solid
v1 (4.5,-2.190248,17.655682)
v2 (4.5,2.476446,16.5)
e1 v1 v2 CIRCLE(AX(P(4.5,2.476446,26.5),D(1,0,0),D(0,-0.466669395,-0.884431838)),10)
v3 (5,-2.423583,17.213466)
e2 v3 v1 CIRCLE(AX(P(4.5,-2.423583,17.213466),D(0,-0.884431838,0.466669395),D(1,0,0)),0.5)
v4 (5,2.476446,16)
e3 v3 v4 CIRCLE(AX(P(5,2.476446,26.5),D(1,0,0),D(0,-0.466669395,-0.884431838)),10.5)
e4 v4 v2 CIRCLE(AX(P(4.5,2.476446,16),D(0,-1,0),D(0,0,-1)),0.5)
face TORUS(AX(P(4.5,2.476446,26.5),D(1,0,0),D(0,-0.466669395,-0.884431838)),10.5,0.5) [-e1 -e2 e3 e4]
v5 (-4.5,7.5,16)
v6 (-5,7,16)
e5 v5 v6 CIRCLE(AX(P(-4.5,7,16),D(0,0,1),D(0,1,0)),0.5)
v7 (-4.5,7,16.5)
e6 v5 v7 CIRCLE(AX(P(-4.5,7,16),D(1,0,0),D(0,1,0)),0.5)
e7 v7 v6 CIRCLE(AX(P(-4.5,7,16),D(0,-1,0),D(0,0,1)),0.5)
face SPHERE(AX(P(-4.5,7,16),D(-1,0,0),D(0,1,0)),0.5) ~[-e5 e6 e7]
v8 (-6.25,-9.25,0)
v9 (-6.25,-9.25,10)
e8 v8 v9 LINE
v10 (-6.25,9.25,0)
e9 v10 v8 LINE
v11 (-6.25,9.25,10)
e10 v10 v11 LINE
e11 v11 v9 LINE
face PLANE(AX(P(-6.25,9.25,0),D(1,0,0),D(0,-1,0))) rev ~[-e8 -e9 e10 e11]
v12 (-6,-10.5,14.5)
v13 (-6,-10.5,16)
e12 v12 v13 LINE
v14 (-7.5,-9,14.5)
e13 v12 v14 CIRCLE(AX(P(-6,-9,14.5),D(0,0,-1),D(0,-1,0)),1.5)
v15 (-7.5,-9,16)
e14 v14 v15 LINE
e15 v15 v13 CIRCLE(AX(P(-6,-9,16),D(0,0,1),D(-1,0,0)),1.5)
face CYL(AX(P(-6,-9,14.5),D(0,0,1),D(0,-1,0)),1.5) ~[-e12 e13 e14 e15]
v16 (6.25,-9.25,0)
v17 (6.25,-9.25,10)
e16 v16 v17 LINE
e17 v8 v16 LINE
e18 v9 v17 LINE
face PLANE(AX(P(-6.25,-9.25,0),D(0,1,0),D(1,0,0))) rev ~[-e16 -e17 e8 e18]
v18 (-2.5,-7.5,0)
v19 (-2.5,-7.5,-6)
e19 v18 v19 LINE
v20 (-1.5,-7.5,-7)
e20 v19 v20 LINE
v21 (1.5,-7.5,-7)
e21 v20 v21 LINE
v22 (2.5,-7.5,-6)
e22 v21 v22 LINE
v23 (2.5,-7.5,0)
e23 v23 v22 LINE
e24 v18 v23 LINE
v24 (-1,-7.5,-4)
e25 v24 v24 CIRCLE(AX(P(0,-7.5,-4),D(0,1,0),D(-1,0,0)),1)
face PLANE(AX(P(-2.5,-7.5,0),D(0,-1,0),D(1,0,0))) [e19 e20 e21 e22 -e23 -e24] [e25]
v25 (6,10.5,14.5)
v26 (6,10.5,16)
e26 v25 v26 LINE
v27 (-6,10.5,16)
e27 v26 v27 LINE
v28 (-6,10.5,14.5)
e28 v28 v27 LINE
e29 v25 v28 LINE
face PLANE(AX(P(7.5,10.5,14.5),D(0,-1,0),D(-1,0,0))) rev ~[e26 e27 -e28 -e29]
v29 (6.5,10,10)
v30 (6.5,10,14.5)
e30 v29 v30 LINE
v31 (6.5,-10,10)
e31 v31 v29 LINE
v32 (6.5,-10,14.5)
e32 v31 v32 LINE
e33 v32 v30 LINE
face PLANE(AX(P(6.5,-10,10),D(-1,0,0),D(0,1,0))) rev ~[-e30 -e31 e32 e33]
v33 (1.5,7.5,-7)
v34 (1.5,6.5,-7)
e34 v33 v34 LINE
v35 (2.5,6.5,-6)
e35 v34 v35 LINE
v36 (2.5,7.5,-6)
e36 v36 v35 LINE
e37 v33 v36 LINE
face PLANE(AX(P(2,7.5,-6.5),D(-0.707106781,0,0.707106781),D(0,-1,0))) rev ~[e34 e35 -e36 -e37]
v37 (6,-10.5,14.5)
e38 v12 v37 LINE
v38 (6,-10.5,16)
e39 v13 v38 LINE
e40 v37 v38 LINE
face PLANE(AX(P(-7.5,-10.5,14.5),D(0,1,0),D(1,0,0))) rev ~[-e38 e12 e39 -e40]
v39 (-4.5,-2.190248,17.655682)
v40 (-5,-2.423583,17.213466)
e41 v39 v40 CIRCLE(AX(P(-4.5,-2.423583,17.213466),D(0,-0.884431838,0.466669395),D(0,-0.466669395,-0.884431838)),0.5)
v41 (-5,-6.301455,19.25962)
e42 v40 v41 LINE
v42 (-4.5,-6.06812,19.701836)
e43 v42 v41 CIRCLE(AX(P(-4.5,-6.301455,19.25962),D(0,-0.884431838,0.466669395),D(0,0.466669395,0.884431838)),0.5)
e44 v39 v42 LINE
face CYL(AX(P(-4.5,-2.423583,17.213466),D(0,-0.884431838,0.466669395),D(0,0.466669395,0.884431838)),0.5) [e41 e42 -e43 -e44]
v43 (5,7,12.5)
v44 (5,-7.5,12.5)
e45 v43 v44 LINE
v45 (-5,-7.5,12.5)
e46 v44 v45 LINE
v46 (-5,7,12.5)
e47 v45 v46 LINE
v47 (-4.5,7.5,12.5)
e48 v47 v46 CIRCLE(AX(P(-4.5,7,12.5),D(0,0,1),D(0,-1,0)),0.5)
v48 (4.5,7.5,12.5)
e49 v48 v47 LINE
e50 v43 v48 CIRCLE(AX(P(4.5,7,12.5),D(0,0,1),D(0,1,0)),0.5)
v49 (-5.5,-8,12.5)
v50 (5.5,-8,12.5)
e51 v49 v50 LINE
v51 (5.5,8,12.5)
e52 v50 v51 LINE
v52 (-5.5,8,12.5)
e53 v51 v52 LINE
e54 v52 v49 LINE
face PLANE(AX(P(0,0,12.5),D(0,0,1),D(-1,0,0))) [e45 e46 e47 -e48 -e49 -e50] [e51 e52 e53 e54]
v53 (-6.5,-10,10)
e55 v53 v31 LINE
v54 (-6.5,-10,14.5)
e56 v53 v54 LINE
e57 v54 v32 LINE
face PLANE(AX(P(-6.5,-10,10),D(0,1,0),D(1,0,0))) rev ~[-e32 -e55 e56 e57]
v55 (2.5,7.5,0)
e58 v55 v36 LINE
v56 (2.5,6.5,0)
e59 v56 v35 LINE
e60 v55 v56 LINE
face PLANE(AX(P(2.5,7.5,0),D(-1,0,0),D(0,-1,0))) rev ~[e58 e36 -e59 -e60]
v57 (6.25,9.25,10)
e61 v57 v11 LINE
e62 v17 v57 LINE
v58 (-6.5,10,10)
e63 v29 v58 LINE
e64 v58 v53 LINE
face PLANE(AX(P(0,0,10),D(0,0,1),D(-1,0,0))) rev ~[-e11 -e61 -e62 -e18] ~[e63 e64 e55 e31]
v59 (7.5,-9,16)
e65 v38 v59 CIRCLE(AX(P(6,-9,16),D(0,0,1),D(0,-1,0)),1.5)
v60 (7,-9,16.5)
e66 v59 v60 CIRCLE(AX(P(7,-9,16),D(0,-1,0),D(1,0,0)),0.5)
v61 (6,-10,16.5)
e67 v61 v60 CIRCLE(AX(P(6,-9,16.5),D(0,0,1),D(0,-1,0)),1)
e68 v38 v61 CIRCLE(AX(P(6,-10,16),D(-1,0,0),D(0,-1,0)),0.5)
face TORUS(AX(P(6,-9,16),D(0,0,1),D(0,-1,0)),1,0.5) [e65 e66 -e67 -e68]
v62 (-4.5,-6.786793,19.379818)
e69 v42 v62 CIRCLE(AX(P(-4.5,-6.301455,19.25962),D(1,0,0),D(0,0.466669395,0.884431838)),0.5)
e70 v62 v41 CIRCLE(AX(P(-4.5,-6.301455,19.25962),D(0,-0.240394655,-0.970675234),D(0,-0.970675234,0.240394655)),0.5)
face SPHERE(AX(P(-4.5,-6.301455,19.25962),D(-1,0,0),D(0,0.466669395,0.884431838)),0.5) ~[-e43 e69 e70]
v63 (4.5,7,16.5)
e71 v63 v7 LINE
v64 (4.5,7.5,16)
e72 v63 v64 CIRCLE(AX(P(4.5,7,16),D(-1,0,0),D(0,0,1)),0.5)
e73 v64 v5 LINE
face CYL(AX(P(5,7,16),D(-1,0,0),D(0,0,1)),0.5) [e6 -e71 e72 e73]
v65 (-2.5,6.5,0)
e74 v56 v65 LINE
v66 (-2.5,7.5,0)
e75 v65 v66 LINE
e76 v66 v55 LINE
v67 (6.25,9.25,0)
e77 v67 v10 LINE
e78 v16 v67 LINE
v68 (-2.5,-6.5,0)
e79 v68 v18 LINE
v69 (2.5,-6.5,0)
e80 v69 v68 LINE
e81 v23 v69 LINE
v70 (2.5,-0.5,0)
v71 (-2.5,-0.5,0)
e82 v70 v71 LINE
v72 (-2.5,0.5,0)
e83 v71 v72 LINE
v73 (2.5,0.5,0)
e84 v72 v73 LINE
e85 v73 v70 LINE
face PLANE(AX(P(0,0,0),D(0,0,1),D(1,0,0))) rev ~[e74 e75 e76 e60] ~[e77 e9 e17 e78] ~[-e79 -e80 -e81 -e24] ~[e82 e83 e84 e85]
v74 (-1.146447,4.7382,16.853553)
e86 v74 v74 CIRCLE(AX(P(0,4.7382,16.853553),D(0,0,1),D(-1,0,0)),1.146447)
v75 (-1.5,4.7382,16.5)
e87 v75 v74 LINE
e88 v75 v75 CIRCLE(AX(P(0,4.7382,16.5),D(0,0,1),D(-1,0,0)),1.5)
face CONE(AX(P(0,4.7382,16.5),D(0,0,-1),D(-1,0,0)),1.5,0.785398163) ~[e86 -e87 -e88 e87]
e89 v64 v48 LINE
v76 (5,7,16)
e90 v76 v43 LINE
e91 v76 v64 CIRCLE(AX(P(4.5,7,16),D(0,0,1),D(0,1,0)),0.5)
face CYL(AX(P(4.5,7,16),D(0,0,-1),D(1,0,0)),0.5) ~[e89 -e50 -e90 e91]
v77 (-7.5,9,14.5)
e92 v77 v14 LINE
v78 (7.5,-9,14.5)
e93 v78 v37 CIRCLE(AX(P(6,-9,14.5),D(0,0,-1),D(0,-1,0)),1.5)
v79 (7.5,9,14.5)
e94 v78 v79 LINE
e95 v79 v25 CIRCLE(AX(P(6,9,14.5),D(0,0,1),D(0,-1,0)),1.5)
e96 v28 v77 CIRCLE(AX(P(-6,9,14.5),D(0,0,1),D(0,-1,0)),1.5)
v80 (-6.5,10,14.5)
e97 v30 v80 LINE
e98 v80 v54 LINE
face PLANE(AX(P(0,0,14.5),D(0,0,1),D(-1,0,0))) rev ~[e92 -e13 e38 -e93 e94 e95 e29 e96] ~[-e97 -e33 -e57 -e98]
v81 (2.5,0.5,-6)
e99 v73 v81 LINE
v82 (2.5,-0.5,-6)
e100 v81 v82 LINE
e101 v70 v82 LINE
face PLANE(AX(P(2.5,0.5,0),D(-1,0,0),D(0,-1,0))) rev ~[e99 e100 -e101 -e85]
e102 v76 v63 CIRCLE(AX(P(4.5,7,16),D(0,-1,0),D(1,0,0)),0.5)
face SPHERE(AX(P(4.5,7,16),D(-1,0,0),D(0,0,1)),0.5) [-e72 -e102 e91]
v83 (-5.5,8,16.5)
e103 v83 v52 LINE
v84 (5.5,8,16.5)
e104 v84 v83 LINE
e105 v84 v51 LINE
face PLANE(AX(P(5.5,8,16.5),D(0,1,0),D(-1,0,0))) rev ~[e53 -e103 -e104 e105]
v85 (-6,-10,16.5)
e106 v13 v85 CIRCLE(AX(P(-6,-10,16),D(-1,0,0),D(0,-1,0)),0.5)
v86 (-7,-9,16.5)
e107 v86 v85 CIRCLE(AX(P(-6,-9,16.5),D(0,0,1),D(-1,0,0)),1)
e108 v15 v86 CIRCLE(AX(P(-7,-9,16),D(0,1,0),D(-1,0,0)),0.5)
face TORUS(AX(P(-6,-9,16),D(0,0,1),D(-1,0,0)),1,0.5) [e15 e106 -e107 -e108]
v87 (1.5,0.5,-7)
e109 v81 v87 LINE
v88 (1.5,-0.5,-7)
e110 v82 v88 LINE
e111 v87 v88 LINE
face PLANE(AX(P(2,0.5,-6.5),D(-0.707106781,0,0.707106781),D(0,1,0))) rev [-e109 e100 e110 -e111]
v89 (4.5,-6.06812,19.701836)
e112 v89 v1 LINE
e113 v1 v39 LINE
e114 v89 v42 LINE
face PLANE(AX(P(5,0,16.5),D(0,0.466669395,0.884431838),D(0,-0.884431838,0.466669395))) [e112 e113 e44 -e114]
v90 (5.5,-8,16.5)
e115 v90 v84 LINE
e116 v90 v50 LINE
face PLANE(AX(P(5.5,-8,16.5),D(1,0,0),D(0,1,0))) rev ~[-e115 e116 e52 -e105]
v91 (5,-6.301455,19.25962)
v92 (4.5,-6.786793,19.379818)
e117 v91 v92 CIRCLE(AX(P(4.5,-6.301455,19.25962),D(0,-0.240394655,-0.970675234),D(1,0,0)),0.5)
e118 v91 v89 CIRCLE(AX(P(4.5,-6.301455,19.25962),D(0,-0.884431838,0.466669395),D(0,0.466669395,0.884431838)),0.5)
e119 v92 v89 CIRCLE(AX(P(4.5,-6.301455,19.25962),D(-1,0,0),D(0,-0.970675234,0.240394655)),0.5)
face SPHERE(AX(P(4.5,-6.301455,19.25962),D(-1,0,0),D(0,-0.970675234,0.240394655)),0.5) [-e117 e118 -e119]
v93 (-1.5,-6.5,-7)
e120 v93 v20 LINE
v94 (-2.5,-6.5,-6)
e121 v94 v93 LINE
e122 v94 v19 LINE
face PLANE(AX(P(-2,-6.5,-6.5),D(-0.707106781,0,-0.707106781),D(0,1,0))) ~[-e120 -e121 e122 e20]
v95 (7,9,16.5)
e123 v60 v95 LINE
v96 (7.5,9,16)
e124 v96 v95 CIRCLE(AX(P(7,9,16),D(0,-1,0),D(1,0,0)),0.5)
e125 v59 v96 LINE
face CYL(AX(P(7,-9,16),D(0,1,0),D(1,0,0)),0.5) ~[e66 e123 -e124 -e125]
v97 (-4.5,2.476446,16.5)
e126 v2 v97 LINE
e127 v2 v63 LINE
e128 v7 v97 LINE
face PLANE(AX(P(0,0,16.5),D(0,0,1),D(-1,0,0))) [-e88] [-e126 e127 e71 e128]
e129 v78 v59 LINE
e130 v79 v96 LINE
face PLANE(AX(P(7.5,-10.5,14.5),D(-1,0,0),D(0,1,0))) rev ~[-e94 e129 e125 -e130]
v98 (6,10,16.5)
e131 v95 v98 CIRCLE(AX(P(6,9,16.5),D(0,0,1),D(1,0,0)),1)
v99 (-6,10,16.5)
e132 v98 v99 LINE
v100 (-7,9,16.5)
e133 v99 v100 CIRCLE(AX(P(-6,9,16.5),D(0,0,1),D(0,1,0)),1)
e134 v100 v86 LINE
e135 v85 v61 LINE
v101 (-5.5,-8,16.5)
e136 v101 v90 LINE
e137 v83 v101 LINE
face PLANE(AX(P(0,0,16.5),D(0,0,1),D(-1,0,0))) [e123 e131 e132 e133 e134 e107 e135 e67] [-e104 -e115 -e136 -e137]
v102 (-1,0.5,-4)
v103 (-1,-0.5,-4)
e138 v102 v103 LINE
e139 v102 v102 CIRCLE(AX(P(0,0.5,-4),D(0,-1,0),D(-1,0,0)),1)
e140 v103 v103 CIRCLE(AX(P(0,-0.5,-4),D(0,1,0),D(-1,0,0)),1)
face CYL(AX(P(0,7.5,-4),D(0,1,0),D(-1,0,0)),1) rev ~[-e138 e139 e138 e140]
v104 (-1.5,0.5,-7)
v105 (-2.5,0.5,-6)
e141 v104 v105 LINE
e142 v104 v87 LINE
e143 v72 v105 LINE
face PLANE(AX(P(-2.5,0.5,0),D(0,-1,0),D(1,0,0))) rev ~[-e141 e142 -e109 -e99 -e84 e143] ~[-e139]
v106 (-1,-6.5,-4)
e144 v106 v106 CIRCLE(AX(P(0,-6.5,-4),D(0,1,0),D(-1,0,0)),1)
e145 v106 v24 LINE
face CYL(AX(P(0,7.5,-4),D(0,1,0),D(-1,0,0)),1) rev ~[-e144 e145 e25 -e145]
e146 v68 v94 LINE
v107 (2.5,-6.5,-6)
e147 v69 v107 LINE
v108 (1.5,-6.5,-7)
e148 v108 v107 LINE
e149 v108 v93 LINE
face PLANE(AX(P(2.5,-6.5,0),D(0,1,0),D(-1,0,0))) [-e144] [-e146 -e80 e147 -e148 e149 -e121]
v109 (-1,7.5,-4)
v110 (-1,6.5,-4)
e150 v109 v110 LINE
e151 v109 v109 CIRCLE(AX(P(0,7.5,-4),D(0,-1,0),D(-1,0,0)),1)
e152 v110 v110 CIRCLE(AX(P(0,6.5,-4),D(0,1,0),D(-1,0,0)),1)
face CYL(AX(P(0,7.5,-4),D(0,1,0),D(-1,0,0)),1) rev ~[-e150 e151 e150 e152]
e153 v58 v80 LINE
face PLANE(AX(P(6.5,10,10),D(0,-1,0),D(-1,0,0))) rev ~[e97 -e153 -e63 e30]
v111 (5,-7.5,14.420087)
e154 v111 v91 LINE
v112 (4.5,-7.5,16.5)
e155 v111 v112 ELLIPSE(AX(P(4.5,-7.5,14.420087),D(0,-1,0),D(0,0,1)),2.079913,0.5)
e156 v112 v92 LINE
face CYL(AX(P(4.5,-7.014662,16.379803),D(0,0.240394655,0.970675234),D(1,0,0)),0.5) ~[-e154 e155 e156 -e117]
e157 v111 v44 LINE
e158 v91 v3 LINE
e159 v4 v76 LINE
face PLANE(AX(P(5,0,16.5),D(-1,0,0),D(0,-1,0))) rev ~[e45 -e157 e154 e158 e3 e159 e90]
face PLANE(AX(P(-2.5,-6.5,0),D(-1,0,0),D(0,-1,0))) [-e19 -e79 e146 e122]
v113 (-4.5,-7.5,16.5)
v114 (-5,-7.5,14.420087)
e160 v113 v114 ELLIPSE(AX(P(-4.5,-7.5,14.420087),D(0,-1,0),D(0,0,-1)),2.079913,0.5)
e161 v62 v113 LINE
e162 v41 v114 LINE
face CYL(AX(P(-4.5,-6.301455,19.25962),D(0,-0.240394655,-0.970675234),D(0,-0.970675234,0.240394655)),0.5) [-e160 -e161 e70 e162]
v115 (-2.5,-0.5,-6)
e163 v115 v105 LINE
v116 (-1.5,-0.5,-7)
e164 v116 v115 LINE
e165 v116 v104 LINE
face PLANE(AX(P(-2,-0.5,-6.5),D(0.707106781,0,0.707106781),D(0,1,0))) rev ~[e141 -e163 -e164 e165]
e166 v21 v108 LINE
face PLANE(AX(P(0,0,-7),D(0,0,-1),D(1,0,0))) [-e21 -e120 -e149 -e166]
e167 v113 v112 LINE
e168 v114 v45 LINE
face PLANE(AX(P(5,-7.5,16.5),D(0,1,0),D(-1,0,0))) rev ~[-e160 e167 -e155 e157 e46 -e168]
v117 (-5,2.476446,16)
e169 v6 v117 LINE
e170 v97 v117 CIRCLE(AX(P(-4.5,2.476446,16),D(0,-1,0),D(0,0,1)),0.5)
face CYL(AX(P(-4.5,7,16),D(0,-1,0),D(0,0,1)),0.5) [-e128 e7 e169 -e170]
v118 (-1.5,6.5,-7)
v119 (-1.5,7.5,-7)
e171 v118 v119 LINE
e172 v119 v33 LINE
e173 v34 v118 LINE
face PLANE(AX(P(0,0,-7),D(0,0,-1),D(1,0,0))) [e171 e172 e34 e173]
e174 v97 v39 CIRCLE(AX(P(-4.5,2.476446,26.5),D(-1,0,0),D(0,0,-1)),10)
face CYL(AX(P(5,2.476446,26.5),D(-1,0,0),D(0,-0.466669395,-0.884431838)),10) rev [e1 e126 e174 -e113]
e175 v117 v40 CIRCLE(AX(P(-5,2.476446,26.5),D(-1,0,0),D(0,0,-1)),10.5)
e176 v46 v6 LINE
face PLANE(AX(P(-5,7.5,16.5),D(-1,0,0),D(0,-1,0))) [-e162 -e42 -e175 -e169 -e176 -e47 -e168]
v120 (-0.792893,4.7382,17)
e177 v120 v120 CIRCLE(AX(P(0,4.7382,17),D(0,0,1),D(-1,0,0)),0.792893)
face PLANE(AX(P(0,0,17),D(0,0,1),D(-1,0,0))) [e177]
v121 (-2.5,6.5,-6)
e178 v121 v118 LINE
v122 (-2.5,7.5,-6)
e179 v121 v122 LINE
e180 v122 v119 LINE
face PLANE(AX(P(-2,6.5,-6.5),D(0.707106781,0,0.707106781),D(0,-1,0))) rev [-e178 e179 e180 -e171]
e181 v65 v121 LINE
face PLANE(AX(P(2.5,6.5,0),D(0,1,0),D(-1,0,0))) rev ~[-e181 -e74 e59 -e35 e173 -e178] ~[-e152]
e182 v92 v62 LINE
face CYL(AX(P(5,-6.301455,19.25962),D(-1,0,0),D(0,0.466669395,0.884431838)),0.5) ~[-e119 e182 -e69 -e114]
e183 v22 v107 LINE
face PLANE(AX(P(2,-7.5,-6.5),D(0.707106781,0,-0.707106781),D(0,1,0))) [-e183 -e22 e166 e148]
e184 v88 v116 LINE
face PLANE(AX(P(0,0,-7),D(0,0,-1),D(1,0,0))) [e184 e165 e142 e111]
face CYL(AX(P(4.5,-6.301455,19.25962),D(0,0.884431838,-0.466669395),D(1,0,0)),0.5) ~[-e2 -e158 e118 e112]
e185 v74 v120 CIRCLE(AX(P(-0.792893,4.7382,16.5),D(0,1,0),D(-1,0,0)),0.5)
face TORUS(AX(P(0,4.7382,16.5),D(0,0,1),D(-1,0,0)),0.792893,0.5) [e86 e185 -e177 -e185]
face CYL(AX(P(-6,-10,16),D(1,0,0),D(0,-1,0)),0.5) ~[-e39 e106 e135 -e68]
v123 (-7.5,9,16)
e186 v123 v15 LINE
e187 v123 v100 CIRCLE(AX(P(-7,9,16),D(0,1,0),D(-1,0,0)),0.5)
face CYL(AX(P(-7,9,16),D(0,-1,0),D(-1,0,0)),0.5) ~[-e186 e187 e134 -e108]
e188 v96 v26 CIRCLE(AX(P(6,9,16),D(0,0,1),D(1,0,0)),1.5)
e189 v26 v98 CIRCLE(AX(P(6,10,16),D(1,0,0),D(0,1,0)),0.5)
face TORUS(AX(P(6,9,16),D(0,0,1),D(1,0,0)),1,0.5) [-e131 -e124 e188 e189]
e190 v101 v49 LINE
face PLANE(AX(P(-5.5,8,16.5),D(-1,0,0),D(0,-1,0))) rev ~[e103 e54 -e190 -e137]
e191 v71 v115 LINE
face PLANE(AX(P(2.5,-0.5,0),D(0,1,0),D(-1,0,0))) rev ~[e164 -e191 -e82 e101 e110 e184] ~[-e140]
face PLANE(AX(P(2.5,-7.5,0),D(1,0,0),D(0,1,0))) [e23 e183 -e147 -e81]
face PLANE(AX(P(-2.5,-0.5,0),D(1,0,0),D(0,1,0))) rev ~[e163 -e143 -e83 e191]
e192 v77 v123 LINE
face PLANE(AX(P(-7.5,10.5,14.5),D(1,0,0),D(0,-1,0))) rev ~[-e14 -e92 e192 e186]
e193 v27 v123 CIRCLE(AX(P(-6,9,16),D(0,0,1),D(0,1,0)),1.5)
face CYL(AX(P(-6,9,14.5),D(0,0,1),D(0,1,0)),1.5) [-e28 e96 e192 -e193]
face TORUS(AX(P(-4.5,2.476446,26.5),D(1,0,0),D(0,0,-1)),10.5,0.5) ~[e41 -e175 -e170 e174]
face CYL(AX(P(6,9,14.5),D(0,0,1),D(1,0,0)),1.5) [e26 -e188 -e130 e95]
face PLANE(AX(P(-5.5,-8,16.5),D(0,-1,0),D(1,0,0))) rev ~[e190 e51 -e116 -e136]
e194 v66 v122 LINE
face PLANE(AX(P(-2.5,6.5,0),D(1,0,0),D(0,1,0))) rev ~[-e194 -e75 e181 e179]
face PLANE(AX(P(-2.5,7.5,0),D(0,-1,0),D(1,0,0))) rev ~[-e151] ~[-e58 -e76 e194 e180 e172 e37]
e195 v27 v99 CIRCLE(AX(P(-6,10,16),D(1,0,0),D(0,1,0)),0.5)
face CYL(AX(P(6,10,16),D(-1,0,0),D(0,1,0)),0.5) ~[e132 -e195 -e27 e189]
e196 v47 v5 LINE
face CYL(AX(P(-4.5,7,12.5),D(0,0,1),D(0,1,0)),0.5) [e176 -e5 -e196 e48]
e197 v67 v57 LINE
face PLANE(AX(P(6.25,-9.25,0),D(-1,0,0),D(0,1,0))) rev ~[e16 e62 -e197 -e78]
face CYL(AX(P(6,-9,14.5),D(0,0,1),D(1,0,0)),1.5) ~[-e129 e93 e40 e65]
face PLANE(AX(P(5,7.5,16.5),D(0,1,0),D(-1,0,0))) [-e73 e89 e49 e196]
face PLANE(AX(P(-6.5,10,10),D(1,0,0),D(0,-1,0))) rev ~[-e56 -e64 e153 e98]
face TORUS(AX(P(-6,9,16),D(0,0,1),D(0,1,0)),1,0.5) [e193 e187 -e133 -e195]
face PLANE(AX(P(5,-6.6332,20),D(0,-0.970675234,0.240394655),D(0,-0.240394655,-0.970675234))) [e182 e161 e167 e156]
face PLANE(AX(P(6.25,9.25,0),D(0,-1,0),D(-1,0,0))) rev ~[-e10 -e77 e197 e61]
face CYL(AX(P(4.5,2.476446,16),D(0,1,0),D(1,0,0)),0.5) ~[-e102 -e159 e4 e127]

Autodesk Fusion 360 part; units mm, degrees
sketch "Sketch1" plane through (0, 0, 0) normal (0, 0, 1) x (1, 0, 0)
  line L0 (6.25, 9.25) -> (-6.25, 9.25)
  line L1 (-6.25, 9.25) -> (-6.25, -9.25)
  line L2 (-6.25, -9.25) -> (6.25, -9.25)
  line L3 (6.25, -9.25) -> (6.25, 9.25)
  line L4 (6.25, 9.25) -> (-6.25, -9.25) construction
  line L5 (-6.25, 9.25) -> (6.25, -9.25) construction
  dimension "d1" = 12.5
  dimension "d2" = 18.5
extrude "Extrude1" add sketch "Sketch1" along normal blind 10 makes body 1
sketch "Sketch2" plane through (0, 0, 10) normal (0, 0, 1) x (-1, 0, 0)
  line L0 (-6.25, 9.25) -> (-6.25, -9.25)
  line L1 (-6.25, -9.25) -> (6.25, -9.25)
  line L2 (6.25, -9.25) -> (6.25, 9.25)
  line L3 (6.25, 9.25) -> (-6.25, 9.25)
  line L4 (-6.5, -10) -> (6.5, -10)
  line L5 (6.5, -10) -> (6.5, 10)
  line L6 (6.5, 10) -> (-6.5, 10)
  line L7 (-6.5, 10) -> (-6.5, -10)
  line L8 (-6.5, -10) -> (6.5, 10) construction
  line L9 (6.5, -10) -> (-6.5, 10) construction
  dimension "d5" = 13
  dimension "d6" = 20
extrude "Extrude2" add sketch "Sketch2" along normal blind 4.5 contours L0 L1 L2 L3 | L4 L5 L6 L7 bodies 1
sketch "Sketch3" plane through (0, 0, 14.5) normal (0, 0, 1) x (-1, 0, 0)
  line L0 (-6.5, 10) -> (-6.5, -10)
  line L1 (-6.5, -10) -> (6.5, -10)
  line L2 (6.5, -10) -> (6.5, 10)
  line L3 (6.5, 10) -> (-6.5, 10)
  line L4 (-7.5, -10.5) -> (7.5, -10.5)
  line L5 (7.5, -10.5) -> (7.5, 10.5)
  line L6 (7.5, 10.5) -> (-7.5, 10.5)
  line L7 (-7.5, 10.5) -> (-7.5, -10.5)
  line L8 (-7.5, -10.5) -> (7.5, 10.5) construction
  line L9 (7.5, -10.5) -> (-7.5, 10.5) construction
  dimension "d9" = 15
  dimension "d10" = 21
extrude "Extrude3" add sketch "Sketch3" along normal blind 2 contours L0 L1 L2 L3 | L4 L5 L6 L7 bodies 1
sketch "Sketch4" plane through (0, 0, 16.5) normal (0, 0, 1) x (-1, 0, 0)
  line L0 (-7.5, 10.5) -> (-7.5, -10.5)
  line L1 (-7.5, -10.5) -> (7.5, -10.5)
  line L2 (7.5, -10.5) -> (7.5, 10.5)
  line L3 (7.5, 10.5) -> (-7.5, 10.5)
  line L4 (-5, -7.5) -> (5, -7.5)
  line L5 (5, -7.5) -> (5, 7.5)
  line L6 (5, 7.5) -> (-5, 7.5)
  line L7 (-5, 7.5) -> (-5, -7.5)
  line L8 (-5, -7.5) -> (5, 7.5) construction
  line L9 (5, -7.5) -> (-5, 7.5) construction
  dimension "d13" = 10
  dimension "d14" = 15
extrude "Extrude4" add sketch "Sketch4" along normal blind 3.5 contours L4 L5 L6 L7 bodies 1
sketch "Sketch5" plane through (5, 0, 0) normal (1, 0, 0) x (0, 1, 0)
  line L0 (-7.5, 16.5) -> (7.5, 16.5)
  line L1 (7.5, 16.5) -> (7.5, 20)
  line L2 (7.5, 20) -> (-7.5, 20)
  line L3 (-7.5, 20) -> (-7.5, 16.5)
  line L4 (0, 16.5) -> (7.5, 16.5)
  line L5 (0, 16.5) -> (-6.6332, 20)
  line L6 (-6.6332, 20) -> (-7.5, 16.5)
  dimension "d17" = 7.5
extrude "Extrude5" cut sketch "Sketch5" against normal blind 10 contours L2 L3 L6 | L0 L1 L2 L4 L5 bodies 1
sketch "Sketch6" plane through (0, 0, 16.5) normal (0, 0, 1) x (-1, 0, 0)
  line L0 (-5, 7.5) -> (5, 7.5)
  line L1 (5, 7.5) -> (5, 0)
  line L2 (5, 0) -> (-5, 0)
  line L3 (-5, 0) -> (-5, 7.5)
  line L4 (-7.5, 10.5) -> (-7.5, -10.5)
  line L5 (-7.5, -10.5) -> (7.5, -10.5)
  line L6 (7.5, -10.5) -> (7.5, 10.5)
  line L7 (7.5, 10.5) -> (-7.5, 10.5)
  line L8 (-5, -7.5) -> (5, -7.5)
  line L9 (5, -7.5) -> (5, 7.5)
  line L10 (5, 7.5) -> (-5, 7.5)
  line L11 (-5, 7.5) -> (-5, -7.5)
  line L12 (-5, -7.5) -> (5, 7.5) construction
  line L13 (5, -7.5) -> (-5, 7.5) construction
  line L14 (5.5, 8) -> (-5.5, 8)
  line L15 (-5.5, 8) -> (-5.5, -8)
  line L16 (-5.5, -8) -> (5.5, -8)
  line L17 (5.5, -8) -> (5.5, 8)
  dimension "d20" = 10
  dimension "d21" = 15
  dimension "d22" = 0.5
extrude "Extrude6" cut sketch "Sketch6" against normal blind 4 contours L14 L15 L16 L17 bodies 1
fillet "Fillet1" radius 1.5 4 edges at (7.5, -10.5, 15.5) (-7.5, -10.5, 15.5) (-7.5, 10.5, 15.5) (7.5, 10.5, 15.5) on bodies 1
fillet "Fillet2" radius 0.5 8 edges at (-7.0607, 10.0607, 16.5) (-7.5, 0, 16.5) (-7.0607, -10.0607, 16.5) (0, -10.5, 16.5) (7.0607, -10.0607, 16.5) (7.5, 0, 16.5) (7.0607, 10.0607, 16.5) (0, 10.5, 16.5) on bodies 1
fillet "Fillet3" radius 10 1 edges at (0, 0, 16.5) on bodies 1
fillet "Fillet4" radius 0.5 2 edges at (0, 7.5, 16.5) (0, -6.6332, 20) on bodies 1
fillet "Fillet5" radius 0.5 14 edges at (-5, -7.1434, 17.9399) (-5, -6.506, 19.7159) (-5, -4.1292, 18.6788) (-5, 0.0726, 16.7932) (-5, 4.7382, 16.5) (-5, 7.3536, 16.3536) (-5, 7.5, 14.25) (5, 7.5, 14.25) (5, 7.3536, 16.3536) (5, 4.7382, 16.5) (5, 0.0726, 16.7932) (5, -4.1292, 18.6788) (5, -6.506, 19.7159) (5, -7.1434, 17.9399) on bodies 1
sketch "Sketch7" plane through (0, 0, 16.5) normal (0, 0, 1) x (-1, 0, 0)
  line L0 (-4.5, -2.4764) -> (-4.5, -7)
  line L1 (-4.5, -7) -> (4.5, -7)
  line L2 (4.5, -7) -> (4.5, -2.4764)
  line L3 (4.5, -2.4764) -> (-4.5, -2.4764)
  line L4 (-4.5, -7) -> (4.5, -2.4764) construction
  circle A0 centre (0, -4.7382) radius 1.5
  dimension "d35" = 3
extrude "Extrude7" add sketch "Sketch7" along normal blind 0.5 draft -45 contours A0 bodies 1
fillet "Fillet6" radius 0.5 1 edges at (0.9323, 4.3766, 17) on bodies 1
sketch "Sketch8" plane through (0, 0, 0) normal (0, 0, -1) x (1, 0, 0)
  line L0 (6.25, -9.25) -> (6.25, 9.25)
  line L1 (6.25, 9.25) -> (-6.25, 9.25)
  line L2 (-6.25, 9.25) -> (-6.25, -9.25)
  line L3 (-6.25, -9.25) -> (6.25, -9.25)
  line L4 (2.5, 7.5) -> (-2.5, 7.5) construction
  line L5 (-2.5, 7.5) -> (-2.5, -7.5) construction
  line L6 (-2.5, -7.5) -> (2.5, -7.5) construction
  line L7 (2.5, -7.5) -> (2.5, 7.5) construction
  line L8 (2.5, 7.5) -> (-2.5, -7.5) construction
  line L9 (-2.5, 7.5) -> (2.5, -7.5) construction
  line L10 (-2.5, 7.5) -> (2.5, 7.5)
  line L11 (2.5, 7.5) -> (2.5, 6.5)
  line L12 (2.5, 6.5) -> (-2.5, 6.5)
  line L13 (-2.5, 6.5) -> (-2.5, 7.5)
  line L14 (-2.5, -7.5) -> (2.5, -7.5)
  line L15 (2.5, -7.5) -> (2.5, -6.5)
  line L16 (2.5, -6.5) -> (-2.5, -6.5)
  line L17 (-2.5, -6.5) -> (-2.5, -7.5)
  line L18 (2.5, 0.5) -> (-2.5, 0.5)
  line L19 (-2.5, 0.5) -> (-2.5, -0.5)
  line L20 (-2.5, -0.5) -> (2.5, -0.5)
  line L21 (2.5, -0.5) -> (2.5, 0.5)
  line L22 (2.5, 0.5) -> (-2.5, -0.5) construction
  line L23 (-2.5, 0.5) -> (2.5, -0.5) construction
  dimension "d40" = 5
  dimension "d41" = 15
  dimension "d42" = 5
  dimension "d43" = 1
  dimension "d44" = 5
  dimension "d45" = 1
  dimension "d46" = 5
  dimension "d47" = 1
extrude "Extrude8" add sketch "Sketch8" along normal blind 7 separate body contours L10 L11 L12 L13 | L14 L15 L16 L17 | L18 L19 L20 L21 makes body 2 at (0.8333, 6.5, -2.3333) makes body 3 at (-0.8333, 0.5, -2.3333) makes body 4 at (-0.8333, -7.5, -2.3333)
sketch "Sketch9" plane through (0, 7.5, 0) normal (0, 1, 0) x (-1, 0, 0)
  line L0 (2.5, 0) -> (-2.5, 0)
  line L1 (-2.5, 0) -> (-2.5, -7)
  line L2 (-2.5, -7) -> (2.5, -7)
  line L3 (2.5, -7) -> (2.5, 0)
  line L4 (0, -7) -> (0, -4)
  circle A0 centre (0, -4) radius 1
  dimension "d50" = 3
  dimension "d51" = 2
extrude "Extrude9" cut sketch "Sketch9" against normal blind 15 contours A0 bodies 2 3 4
chamfer "Chamfer1" distance 1 angle 45 6 edges at (2.5, -7, -7) (-2.5, -7, -7) (2.5, 0, -7) (-2.5, 0, -7) (2.5, 7, -7) (-2.5, 7, -7) on bodies 2 3 4
combine "Combine1" operation add target body 1 tool bodies 2 3 4
